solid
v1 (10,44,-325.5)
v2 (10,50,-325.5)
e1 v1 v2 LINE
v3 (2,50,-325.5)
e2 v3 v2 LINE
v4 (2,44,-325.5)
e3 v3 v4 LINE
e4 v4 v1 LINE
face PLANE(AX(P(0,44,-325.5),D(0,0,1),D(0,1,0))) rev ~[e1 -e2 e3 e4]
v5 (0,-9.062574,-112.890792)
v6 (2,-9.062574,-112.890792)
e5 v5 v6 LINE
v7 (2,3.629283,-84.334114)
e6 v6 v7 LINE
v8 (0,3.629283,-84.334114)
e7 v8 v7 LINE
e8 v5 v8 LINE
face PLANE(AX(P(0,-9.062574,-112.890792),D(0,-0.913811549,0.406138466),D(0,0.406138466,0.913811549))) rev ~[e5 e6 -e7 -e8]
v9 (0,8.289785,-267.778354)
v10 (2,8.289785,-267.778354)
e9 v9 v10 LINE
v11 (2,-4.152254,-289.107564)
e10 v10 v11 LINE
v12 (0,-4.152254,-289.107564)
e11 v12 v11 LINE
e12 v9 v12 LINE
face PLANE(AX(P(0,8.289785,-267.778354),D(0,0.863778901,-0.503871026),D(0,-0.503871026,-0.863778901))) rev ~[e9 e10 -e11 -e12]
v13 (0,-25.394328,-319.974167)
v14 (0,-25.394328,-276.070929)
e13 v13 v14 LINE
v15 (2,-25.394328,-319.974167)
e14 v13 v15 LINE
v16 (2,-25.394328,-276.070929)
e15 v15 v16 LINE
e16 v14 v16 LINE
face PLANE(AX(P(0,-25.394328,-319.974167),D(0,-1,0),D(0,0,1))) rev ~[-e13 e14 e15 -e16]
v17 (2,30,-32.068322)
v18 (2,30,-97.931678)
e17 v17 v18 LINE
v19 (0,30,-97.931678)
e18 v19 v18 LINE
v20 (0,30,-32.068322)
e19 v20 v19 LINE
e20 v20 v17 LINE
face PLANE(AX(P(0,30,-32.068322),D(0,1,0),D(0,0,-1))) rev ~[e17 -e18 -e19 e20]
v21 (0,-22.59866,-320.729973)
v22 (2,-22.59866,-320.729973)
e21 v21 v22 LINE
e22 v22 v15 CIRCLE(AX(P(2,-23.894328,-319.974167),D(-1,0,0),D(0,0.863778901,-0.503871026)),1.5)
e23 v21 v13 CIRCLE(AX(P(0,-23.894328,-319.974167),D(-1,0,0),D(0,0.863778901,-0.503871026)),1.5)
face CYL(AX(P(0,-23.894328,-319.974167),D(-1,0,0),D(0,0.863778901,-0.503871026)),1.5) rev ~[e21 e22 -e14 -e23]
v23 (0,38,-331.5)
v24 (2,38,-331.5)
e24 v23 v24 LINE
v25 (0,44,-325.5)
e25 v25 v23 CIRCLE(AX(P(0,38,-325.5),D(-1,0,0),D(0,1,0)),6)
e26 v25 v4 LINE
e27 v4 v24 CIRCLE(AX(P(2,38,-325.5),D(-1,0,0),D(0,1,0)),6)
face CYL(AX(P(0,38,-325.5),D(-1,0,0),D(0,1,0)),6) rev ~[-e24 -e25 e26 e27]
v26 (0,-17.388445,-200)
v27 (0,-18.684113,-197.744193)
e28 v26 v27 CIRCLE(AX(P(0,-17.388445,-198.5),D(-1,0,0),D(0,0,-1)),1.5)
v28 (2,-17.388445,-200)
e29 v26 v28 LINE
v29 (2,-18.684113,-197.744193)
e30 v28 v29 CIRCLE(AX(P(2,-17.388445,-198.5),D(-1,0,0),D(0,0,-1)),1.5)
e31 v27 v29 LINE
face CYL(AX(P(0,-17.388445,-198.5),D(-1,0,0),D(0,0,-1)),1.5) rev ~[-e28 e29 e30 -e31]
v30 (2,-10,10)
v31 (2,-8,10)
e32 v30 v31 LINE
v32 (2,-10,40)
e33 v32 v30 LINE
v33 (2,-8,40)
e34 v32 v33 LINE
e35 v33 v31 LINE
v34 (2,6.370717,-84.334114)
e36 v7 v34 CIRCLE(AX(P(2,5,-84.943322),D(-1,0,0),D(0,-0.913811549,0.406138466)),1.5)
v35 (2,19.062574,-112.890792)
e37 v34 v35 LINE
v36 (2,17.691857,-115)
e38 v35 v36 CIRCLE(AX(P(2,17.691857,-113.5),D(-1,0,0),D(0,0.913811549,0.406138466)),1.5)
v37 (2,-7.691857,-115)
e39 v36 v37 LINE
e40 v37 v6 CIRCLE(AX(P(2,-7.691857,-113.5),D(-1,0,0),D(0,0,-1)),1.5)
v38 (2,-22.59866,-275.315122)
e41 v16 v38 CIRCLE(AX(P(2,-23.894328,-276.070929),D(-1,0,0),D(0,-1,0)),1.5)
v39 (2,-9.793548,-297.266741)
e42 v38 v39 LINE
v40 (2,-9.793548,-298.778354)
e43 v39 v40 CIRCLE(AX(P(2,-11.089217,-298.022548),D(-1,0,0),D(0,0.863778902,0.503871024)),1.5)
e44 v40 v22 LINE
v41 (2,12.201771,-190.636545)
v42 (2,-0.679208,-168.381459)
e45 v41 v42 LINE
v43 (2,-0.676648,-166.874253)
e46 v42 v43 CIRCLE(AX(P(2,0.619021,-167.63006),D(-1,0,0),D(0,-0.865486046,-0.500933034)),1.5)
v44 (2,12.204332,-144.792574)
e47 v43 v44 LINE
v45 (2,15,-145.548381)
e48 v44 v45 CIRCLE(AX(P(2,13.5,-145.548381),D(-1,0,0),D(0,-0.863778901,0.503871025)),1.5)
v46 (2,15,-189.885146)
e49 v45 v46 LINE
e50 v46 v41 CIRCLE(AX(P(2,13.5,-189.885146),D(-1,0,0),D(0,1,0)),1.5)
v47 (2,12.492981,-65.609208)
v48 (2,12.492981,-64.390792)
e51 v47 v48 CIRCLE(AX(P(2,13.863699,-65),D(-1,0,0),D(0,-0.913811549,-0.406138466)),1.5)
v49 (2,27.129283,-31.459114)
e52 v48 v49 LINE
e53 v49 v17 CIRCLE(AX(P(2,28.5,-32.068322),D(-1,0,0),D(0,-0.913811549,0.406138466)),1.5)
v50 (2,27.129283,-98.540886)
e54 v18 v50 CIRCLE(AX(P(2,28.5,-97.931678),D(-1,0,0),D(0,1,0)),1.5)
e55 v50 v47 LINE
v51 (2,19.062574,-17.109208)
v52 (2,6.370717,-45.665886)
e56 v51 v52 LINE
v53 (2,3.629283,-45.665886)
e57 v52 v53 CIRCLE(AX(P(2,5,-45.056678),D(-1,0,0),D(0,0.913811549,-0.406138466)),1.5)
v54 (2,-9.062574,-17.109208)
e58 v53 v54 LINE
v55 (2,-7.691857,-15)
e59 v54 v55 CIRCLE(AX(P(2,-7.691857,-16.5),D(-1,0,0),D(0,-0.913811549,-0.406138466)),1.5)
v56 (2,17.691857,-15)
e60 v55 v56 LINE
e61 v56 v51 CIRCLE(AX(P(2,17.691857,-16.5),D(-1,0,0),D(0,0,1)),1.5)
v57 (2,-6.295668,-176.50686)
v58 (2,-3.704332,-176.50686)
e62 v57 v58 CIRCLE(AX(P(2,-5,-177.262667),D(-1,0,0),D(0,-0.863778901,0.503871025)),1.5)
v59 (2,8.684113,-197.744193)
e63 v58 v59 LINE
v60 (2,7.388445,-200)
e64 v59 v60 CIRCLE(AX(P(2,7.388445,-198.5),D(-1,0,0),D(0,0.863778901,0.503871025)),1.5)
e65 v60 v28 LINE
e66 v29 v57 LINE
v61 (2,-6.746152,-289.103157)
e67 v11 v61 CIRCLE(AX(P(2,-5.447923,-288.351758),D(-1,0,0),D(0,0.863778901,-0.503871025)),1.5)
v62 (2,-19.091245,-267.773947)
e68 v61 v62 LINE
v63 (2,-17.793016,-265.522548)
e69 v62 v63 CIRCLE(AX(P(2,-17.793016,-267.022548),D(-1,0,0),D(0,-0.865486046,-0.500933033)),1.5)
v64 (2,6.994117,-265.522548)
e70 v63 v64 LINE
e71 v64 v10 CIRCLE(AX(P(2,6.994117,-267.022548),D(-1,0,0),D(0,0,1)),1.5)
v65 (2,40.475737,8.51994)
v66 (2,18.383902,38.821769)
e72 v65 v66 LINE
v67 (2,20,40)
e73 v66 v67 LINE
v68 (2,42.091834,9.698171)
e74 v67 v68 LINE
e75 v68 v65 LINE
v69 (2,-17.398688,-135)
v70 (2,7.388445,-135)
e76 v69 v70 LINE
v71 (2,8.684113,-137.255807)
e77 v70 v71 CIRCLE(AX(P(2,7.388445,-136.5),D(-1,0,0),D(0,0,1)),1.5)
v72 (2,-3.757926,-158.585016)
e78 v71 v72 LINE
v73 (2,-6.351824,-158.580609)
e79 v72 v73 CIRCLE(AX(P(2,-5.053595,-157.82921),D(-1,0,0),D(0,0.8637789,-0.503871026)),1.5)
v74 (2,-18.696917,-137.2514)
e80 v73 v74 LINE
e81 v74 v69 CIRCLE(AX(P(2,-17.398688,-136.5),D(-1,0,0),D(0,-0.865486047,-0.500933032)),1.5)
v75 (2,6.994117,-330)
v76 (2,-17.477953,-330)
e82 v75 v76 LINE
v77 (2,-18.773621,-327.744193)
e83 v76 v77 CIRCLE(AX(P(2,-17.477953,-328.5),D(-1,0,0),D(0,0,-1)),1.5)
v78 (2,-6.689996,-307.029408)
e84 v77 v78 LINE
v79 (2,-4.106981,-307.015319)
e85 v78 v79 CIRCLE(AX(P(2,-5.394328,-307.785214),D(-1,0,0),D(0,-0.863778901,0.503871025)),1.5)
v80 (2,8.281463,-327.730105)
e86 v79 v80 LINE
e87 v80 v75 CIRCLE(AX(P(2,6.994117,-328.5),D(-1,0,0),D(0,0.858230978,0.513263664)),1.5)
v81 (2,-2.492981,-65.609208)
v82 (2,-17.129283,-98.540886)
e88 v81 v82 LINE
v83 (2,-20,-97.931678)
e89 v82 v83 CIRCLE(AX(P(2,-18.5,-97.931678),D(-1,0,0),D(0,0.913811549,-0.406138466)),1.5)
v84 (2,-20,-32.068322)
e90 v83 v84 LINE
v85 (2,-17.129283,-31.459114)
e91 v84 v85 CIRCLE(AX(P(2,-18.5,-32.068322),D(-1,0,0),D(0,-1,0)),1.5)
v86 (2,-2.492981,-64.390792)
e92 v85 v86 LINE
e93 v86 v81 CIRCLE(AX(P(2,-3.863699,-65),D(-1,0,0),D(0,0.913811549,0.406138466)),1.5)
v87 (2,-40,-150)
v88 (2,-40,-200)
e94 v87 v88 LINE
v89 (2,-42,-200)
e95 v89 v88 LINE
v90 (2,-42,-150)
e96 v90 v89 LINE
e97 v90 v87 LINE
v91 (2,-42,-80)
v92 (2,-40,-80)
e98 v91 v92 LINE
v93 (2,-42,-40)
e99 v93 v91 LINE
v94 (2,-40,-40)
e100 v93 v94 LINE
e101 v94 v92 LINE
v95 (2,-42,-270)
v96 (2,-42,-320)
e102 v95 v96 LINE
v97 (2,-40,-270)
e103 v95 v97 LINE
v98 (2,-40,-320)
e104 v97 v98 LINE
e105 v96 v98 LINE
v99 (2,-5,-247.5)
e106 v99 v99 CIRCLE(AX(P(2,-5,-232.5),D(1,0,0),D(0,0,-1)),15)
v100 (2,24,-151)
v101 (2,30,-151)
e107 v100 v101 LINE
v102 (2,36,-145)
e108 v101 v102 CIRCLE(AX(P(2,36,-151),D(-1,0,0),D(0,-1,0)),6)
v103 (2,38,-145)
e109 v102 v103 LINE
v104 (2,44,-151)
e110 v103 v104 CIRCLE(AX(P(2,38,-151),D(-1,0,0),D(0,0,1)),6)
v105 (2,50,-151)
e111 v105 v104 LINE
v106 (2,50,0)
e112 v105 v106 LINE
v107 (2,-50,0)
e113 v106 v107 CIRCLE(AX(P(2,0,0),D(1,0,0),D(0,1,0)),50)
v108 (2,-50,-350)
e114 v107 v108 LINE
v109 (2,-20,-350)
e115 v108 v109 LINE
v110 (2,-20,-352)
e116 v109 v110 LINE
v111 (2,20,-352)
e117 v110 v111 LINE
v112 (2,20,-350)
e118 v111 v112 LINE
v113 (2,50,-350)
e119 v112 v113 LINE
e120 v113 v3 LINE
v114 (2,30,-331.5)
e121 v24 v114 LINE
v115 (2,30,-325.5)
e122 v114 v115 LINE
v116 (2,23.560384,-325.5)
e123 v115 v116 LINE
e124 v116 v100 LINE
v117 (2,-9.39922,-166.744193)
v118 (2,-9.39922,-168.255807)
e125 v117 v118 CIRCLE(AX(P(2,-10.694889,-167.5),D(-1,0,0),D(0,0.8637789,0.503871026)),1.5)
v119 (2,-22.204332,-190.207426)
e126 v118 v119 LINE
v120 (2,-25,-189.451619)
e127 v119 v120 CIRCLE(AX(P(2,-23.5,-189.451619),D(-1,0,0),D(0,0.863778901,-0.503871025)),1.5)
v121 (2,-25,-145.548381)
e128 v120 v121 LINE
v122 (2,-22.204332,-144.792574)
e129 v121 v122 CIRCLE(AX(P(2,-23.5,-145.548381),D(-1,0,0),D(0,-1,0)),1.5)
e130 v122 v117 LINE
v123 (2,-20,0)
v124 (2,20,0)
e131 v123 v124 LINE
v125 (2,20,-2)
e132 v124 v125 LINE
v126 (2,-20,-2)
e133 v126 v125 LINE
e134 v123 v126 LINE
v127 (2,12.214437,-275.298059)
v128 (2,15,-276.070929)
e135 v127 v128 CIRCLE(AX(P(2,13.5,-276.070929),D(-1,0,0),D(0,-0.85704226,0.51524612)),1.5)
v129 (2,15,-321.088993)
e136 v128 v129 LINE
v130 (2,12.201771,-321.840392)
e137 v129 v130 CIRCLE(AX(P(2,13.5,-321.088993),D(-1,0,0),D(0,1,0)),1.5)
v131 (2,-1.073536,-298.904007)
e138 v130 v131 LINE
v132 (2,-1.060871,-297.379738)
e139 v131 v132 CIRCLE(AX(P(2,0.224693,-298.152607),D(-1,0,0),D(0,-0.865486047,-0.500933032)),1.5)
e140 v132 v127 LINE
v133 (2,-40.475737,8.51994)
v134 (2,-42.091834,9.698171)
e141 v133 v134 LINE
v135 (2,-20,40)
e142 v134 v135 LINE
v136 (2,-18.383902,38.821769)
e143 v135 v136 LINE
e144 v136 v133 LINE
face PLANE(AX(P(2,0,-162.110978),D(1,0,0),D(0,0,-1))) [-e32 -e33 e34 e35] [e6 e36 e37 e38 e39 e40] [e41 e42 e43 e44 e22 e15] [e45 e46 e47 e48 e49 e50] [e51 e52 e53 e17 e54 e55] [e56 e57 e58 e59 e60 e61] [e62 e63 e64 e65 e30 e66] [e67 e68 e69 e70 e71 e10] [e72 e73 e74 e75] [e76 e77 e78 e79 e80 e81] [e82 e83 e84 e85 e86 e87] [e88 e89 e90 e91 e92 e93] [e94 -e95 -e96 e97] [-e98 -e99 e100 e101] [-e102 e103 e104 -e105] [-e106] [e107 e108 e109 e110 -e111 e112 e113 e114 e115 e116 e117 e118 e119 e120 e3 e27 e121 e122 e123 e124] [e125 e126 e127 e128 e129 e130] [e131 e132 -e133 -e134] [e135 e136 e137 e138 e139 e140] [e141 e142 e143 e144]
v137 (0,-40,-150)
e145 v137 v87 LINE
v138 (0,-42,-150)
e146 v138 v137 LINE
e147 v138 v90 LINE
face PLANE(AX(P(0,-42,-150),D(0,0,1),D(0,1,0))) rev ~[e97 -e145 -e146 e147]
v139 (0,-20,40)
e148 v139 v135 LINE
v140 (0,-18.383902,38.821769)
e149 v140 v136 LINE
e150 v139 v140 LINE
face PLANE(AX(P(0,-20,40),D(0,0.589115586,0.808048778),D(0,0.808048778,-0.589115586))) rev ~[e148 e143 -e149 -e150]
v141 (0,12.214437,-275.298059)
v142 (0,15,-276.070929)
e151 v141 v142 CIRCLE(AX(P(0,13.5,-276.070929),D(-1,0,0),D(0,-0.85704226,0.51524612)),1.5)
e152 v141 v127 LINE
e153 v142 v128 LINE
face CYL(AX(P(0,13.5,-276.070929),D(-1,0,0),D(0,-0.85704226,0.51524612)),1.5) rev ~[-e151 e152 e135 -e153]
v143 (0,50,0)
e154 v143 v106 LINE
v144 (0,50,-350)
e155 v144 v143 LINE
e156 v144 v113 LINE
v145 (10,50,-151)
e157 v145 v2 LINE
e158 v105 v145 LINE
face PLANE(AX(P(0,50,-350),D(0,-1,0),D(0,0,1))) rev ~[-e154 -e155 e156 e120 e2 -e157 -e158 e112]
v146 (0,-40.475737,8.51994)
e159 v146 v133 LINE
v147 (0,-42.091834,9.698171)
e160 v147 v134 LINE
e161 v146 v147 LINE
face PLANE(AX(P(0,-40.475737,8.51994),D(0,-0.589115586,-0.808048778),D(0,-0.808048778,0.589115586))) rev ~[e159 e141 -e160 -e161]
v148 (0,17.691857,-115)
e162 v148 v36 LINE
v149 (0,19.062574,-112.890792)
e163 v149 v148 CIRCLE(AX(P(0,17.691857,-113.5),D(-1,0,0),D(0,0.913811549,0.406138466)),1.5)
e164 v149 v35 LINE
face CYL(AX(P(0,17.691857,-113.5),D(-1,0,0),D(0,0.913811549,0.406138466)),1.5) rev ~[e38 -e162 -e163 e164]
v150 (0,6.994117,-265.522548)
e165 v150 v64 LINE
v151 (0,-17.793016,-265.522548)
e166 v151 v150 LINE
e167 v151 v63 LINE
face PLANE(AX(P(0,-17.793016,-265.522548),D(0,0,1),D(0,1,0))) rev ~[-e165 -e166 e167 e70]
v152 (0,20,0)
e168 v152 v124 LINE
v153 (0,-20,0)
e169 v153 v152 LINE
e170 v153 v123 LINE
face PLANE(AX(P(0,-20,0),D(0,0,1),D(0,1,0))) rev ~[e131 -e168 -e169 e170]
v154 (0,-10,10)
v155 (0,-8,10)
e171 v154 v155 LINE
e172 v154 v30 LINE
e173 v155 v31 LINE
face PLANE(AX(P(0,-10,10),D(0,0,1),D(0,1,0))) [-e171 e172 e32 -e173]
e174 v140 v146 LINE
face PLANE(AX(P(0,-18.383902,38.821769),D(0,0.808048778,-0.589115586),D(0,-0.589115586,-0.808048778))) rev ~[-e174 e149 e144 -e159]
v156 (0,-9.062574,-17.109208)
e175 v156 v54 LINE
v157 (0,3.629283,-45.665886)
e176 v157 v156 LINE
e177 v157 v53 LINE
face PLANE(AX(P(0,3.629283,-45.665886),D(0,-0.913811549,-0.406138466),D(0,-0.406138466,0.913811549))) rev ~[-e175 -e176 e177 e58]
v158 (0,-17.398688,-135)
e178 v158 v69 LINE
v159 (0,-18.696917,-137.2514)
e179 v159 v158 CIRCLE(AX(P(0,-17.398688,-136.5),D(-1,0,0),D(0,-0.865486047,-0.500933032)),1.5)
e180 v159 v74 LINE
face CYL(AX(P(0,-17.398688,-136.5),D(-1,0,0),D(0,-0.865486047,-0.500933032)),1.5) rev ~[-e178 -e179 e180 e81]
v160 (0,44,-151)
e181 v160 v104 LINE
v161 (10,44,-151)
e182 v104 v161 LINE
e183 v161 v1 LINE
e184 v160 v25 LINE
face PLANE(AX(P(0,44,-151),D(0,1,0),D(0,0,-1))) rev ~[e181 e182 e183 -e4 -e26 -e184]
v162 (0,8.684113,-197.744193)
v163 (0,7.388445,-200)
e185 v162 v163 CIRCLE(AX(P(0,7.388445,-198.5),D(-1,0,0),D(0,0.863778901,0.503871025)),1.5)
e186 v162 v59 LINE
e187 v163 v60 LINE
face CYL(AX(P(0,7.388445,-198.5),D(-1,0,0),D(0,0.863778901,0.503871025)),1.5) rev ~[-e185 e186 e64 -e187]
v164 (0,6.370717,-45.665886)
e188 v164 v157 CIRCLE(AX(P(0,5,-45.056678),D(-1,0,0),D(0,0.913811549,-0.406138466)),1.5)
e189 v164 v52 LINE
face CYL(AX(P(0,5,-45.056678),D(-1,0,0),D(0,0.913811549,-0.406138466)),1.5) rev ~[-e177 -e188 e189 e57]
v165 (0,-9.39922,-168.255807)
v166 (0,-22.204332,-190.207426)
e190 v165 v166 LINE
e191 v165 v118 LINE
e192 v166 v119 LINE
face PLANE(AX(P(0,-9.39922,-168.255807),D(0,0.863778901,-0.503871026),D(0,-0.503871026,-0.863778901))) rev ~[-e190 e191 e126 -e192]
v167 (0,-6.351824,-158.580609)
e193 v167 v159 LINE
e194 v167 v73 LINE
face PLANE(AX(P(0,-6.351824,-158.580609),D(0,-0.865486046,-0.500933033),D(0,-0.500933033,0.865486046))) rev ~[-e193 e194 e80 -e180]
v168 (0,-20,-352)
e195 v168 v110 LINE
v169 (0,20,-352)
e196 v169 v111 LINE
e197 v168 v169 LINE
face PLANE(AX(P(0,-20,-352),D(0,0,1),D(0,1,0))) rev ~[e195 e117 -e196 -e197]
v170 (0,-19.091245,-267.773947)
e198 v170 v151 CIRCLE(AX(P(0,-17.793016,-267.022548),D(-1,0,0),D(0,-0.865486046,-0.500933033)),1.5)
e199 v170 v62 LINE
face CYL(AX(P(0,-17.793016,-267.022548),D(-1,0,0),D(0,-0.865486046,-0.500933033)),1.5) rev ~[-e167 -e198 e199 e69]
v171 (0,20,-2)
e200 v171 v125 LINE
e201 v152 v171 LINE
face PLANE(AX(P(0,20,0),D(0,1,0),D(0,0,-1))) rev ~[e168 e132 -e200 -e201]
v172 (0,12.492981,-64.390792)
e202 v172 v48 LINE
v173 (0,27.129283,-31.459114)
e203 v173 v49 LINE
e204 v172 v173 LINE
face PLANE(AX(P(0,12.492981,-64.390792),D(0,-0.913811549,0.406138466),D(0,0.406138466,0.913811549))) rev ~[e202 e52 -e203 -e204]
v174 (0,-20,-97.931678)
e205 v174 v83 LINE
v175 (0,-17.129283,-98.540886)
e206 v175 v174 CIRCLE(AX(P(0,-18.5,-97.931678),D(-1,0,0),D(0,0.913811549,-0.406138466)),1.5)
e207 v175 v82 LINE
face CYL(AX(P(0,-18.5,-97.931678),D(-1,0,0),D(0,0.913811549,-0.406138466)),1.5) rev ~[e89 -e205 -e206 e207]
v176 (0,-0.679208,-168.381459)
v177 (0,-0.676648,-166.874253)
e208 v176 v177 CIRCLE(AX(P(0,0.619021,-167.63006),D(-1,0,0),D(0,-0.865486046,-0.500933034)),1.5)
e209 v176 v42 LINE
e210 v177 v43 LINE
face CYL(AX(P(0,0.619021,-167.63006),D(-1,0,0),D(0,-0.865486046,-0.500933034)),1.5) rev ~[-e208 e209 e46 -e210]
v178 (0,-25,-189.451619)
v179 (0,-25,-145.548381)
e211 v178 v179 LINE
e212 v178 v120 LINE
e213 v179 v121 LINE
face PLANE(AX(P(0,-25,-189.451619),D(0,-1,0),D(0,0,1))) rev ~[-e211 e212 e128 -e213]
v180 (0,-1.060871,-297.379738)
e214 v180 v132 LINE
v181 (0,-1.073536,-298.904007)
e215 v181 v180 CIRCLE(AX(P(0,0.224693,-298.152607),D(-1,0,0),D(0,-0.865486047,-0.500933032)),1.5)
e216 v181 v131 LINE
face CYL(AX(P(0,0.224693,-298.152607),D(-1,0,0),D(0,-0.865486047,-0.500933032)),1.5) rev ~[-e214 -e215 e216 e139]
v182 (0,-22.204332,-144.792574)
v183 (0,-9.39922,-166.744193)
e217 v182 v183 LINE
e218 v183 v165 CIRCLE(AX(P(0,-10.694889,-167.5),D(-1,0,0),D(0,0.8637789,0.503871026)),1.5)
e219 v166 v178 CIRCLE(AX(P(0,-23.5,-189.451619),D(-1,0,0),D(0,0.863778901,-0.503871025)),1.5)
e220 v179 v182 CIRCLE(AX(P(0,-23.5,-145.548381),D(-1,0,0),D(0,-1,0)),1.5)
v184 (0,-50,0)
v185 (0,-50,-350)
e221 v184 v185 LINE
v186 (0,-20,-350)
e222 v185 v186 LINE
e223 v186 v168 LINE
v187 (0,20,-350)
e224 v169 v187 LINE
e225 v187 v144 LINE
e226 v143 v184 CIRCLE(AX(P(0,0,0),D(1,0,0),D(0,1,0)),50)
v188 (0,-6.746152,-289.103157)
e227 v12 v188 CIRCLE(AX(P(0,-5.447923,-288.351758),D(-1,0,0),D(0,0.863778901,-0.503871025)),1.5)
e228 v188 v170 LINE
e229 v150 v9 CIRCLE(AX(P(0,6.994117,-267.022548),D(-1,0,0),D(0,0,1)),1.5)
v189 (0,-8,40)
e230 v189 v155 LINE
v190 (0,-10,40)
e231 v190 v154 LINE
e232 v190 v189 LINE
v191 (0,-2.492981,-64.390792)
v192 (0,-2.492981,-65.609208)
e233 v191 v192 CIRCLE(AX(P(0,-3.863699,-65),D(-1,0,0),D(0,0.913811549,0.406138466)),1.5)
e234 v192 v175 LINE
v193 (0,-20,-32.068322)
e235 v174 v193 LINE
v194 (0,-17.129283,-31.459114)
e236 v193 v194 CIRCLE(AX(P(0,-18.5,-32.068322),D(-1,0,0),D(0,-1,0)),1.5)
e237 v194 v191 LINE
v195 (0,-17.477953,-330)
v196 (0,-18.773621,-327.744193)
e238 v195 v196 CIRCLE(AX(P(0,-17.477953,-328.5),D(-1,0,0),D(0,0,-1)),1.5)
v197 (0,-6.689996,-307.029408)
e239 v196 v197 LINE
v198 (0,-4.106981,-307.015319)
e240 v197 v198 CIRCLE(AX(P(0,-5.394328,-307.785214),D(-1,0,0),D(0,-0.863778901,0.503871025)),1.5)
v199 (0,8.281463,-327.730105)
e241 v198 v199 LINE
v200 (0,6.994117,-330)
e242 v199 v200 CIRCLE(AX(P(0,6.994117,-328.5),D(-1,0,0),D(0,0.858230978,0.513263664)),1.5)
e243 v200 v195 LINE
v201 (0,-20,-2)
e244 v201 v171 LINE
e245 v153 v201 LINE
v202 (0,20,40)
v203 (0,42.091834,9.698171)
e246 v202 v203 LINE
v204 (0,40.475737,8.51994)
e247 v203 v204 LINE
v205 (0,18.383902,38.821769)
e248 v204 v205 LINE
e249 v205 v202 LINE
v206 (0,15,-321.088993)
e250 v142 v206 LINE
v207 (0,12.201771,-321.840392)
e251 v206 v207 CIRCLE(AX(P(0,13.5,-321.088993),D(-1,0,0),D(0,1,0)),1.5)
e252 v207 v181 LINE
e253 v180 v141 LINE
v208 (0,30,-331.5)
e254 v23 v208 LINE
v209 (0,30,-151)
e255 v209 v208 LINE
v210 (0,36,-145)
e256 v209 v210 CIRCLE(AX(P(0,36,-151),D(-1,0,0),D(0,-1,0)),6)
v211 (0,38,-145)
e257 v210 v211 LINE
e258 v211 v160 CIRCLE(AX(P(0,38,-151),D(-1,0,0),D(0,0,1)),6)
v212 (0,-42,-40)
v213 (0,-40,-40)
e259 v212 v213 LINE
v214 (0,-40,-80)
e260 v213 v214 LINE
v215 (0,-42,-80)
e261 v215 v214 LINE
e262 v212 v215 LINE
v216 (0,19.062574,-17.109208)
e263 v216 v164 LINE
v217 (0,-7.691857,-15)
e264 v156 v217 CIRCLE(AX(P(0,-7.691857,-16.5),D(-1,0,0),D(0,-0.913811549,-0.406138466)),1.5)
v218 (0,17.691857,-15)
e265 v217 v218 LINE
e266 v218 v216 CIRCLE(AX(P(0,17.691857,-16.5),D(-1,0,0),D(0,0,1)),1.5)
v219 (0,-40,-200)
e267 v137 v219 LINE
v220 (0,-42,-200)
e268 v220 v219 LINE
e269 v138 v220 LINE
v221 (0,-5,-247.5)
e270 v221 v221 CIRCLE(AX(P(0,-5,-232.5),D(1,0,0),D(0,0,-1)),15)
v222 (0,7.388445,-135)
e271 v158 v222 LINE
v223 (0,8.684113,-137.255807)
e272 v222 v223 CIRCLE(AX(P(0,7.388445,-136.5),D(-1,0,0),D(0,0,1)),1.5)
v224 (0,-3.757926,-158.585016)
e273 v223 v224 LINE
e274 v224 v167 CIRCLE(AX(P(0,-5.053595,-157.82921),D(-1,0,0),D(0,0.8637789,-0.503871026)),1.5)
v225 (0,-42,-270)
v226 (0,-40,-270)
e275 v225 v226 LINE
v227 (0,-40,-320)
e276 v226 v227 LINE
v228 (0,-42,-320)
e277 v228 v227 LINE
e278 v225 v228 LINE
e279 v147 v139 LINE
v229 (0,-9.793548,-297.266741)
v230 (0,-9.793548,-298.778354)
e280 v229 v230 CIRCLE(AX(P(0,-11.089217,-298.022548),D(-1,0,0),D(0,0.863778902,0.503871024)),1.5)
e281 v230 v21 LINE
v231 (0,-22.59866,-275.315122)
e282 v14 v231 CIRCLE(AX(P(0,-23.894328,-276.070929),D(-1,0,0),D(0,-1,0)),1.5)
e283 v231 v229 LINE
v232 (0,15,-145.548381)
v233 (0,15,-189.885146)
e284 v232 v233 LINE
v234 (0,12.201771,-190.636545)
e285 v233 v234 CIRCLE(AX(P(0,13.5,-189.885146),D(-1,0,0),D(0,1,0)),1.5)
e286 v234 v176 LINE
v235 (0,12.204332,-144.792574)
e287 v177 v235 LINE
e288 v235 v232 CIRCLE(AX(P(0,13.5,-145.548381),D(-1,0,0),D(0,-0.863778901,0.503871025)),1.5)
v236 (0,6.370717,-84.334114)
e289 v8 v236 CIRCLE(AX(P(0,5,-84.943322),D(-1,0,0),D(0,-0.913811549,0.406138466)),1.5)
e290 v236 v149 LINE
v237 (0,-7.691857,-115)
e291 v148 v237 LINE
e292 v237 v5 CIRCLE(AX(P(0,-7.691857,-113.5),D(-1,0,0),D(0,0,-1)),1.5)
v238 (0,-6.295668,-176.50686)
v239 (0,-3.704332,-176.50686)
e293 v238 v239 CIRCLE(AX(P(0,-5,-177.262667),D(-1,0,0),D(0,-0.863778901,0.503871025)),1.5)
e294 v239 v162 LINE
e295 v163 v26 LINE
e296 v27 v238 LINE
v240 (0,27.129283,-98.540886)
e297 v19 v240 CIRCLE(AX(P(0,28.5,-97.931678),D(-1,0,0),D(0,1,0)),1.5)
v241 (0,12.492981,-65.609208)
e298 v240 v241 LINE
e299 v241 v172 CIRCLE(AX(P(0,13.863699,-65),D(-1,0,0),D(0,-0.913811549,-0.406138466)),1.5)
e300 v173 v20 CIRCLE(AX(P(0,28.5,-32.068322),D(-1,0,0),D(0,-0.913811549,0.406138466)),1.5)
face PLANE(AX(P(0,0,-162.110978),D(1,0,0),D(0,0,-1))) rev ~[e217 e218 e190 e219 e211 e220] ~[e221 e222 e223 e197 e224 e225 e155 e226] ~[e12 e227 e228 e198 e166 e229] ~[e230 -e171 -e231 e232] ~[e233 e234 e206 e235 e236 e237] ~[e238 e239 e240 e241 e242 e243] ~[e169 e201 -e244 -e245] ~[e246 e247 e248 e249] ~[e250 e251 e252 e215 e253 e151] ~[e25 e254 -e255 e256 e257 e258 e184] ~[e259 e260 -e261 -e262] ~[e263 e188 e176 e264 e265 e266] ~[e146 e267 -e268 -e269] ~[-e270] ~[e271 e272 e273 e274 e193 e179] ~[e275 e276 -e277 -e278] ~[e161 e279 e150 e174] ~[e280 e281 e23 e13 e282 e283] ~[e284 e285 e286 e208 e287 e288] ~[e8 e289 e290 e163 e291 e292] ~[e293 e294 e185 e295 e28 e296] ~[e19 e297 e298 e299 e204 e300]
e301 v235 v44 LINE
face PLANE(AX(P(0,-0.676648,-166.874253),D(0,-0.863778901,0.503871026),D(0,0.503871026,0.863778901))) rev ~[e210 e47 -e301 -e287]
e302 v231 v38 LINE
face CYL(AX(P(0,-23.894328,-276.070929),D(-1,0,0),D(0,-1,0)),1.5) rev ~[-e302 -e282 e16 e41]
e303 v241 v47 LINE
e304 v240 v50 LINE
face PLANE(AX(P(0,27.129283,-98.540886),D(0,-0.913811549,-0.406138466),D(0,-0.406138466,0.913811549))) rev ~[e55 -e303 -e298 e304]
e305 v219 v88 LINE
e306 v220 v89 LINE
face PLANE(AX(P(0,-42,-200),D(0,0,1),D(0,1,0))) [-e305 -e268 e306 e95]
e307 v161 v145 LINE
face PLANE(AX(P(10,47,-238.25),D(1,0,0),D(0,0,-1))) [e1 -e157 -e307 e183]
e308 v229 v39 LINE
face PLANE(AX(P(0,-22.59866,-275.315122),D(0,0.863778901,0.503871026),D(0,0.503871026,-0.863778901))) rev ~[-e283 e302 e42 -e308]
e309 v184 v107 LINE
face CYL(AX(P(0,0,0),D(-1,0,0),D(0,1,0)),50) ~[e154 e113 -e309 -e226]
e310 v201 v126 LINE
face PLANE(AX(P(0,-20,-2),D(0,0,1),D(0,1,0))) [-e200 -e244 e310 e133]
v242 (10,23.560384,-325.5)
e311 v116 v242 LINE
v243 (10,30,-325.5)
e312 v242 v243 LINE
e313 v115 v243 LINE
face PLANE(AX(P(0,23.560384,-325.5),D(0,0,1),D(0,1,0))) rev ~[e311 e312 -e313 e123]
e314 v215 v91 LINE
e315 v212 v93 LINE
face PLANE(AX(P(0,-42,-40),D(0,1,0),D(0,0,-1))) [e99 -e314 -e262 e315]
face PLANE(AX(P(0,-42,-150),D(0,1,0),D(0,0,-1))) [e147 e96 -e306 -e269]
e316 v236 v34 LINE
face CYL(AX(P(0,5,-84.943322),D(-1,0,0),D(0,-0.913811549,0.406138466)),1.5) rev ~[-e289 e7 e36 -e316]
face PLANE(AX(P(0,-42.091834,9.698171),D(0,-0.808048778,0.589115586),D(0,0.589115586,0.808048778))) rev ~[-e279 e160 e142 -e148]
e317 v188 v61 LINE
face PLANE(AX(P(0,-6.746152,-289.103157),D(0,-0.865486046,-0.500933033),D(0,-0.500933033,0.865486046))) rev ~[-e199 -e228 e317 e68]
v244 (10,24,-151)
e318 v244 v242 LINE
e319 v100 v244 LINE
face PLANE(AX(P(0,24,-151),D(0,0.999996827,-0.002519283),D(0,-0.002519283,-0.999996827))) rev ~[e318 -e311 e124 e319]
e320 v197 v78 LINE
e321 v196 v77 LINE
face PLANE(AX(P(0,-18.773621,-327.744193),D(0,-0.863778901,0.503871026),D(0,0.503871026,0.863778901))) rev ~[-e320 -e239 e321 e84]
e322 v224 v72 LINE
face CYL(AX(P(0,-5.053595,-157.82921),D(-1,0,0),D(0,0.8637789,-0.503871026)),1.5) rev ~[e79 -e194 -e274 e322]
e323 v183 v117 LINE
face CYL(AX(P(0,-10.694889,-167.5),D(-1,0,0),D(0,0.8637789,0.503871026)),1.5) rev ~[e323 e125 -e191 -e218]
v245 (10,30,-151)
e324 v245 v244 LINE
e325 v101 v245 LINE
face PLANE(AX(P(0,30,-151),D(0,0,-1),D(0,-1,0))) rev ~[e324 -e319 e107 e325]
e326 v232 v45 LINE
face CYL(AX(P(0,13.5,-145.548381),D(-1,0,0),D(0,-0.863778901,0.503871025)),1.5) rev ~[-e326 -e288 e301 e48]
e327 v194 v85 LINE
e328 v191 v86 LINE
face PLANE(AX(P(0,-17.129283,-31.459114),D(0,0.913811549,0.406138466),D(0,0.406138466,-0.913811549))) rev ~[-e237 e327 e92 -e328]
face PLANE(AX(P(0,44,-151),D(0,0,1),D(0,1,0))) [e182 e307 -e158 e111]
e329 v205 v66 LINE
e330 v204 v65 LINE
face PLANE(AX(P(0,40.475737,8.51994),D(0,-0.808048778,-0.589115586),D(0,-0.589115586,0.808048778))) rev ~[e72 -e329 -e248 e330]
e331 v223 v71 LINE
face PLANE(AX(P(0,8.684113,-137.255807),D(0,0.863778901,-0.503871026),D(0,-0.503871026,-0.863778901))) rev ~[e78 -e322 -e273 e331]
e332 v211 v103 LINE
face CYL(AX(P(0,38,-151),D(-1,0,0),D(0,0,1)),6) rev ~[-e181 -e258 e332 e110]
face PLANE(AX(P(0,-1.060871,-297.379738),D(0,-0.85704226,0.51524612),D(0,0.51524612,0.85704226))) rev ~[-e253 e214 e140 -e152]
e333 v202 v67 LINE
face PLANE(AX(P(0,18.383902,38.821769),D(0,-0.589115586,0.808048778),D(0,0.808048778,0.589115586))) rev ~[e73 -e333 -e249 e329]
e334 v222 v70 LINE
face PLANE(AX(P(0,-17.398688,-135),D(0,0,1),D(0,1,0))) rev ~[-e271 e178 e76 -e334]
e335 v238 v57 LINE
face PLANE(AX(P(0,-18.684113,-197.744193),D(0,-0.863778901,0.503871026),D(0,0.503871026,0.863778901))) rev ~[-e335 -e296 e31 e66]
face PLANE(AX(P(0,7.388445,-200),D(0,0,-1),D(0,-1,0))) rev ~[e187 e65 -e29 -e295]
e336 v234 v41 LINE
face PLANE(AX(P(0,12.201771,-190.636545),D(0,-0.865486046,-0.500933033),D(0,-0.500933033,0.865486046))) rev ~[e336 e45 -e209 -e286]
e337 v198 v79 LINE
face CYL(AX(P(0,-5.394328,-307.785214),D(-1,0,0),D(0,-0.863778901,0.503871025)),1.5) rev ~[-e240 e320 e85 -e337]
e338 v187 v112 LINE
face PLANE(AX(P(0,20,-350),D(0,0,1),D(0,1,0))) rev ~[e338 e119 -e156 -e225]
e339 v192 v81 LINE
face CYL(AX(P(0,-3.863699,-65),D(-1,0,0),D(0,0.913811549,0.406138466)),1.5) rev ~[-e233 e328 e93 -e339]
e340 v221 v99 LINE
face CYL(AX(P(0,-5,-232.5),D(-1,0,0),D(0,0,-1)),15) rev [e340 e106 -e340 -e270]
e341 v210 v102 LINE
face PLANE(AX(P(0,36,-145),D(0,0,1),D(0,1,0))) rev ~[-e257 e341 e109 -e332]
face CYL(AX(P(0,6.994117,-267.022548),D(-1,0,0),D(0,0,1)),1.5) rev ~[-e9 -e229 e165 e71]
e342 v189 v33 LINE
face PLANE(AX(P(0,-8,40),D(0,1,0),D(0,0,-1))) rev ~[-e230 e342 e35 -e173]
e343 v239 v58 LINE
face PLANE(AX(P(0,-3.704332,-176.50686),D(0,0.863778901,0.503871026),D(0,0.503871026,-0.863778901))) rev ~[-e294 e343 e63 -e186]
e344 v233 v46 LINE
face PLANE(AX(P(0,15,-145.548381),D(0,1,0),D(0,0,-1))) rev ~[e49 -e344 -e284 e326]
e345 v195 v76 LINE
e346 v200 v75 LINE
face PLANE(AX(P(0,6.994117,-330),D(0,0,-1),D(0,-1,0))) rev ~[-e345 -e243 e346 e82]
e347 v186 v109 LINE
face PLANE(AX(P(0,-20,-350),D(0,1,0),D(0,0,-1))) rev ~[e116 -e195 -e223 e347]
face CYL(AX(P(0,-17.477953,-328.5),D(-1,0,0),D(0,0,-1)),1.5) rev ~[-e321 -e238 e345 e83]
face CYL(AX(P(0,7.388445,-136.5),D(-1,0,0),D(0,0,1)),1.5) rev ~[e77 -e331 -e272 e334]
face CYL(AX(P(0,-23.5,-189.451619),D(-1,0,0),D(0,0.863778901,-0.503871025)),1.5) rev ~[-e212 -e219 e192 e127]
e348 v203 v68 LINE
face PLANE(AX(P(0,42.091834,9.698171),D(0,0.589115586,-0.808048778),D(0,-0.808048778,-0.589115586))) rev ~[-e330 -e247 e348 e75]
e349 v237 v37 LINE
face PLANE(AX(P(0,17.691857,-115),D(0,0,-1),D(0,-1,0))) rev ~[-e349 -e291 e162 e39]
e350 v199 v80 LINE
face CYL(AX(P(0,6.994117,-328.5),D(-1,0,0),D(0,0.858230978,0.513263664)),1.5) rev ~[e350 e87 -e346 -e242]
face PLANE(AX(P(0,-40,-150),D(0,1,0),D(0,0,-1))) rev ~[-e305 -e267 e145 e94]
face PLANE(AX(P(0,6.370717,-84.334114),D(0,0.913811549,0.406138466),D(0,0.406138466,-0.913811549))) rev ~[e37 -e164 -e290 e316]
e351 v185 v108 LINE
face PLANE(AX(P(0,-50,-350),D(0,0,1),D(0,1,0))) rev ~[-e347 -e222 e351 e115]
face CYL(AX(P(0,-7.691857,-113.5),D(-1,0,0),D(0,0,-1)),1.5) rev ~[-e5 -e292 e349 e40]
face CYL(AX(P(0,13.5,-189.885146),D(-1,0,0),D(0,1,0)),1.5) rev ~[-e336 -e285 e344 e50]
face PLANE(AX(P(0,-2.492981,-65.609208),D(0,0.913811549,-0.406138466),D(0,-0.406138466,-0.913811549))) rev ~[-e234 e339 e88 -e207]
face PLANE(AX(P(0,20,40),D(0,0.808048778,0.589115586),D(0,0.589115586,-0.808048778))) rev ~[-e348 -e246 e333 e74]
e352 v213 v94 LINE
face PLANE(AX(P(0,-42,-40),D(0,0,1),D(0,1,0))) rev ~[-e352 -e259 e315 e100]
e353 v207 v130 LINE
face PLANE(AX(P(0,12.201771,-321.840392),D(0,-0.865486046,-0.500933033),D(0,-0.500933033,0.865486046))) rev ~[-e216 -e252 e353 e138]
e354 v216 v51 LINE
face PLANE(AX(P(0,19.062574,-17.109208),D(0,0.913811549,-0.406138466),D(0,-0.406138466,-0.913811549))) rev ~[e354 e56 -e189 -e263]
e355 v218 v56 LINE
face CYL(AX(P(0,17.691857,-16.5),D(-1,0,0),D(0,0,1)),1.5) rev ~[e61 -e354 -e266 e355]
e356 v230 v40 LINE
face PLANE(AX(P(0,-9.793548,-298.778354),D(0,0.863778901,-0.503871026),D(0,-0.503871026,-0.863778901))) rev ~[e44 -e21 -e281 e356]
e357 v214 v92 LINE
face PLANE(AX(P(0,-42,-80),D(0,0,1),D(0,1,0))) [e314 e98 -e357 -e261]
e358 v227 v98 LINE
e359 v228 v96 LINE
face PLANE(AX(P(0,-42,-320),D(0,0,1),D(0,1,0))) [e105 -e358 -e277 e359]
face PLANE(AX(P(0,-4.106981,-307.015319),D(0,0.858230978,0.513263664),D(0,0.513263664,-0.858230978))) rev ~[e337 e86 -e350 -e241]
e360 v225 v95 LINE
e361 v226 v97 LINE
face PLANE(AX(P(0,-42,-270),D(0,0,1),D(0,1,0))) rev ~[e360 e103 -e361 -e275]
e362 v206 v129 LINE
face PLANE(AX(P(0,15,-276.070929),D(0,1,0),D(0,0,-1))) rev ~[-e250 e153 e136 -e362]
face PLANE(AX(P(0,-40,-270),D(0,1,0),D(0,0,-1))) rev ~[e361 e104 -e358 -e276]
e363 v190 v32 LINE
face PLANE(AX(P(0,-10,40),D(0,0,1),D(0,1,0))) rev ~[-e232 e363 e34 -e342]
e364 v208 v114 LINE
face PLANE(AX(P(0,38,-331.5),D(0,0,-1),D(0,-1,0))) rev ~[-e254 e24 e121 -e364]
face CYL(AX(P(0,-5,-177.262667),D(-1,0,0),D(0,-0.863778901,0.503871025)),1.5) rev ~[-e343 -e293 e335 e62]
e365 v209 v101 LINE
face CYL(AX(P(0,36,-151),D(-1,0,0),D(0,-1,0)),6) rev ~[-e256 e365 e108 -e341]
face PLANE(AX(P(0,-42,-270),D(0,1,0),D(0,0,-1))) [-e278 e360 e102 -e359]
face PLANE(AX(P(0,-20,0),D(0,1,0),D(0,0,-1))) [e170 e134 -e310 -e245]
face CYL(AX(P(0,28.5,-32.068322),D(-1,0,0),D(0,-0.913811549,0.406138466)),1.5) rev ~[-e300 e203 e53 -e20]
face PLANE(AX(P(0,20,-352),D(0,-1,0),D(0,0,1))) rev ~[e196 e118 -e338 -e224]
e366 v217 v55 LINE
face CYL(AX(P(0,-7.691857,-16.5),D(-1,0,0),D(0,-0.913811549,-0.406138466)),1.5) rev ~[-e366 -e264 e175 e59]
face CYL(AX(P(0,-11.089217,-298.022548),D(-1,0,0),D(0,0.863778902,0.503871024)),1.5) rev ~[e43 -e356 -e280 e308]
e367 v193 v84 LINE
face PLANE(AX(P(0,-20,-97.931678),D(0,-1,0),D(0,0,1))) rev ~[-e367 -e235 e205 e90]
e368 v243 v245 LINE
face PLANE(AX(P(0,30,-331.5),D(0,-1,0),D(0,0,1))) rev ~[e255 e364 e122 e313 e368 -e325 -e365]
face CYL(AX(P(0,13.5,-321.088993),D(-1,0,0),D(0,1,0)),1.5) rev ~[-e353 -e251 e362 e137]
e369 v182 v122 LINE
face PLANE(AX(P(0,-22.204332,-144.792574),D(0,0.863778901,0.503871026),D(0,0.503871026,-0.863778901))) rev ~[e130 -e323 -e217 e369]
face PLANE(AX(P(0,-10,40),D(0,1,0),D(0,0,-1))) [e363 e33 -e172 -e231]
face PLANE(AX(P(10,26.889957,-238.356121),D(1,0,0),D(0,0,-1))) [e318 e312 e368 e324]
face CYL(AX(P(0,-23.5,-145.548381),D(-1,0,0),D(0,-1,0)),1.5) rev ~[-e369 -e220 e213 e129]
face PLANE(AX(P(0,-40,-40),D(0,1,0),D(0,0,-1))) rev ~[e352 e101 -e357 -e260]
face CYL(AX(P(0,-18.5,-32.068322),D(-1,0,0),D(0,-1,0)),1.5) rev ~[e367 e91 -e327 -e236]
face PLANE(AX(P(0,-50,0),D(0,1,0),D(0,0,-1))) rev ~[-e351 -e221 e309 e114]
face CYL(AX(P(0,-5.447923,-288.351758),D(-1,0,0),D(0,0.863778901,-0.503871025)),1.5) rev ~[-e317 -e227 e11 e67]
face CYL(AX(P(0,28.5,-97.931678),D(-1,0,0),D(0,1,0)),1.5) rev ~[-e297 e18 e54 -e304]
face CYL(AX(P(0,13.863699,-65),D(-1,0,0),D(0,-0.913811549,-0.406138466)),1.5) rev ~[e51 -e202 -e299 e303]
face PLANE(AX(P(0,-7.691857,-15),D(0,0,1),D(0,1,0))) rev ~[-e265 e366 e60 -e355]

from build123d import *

# Parameters (mm, degrees)
SKETCH_1_W      = 2
SKETCH_1_H      = 40
SKETCH_1_W_2    = 40
SKETCH_1_H_2    = 2
SKETCH_1_W_3    = 50
SKETCH_1_R      = 15
SKETCH_1_W_4    = 30
EXTRUDE_3_DEPTH = 2
SKETCH_2_W      = 174.5
SKETCH_2_H      = 6
EXTRUDE_4_DEPTH = 10


with BuildPart() as part:
    # 草图1 → 凸台-拉伸3 (new body)
    with BuildSketch(Plane(origin=(0, 0, 0), x_dir=(0, 0, -1), z_dir=(1, 0, 0))):
        with BuildLine():
            Line((350, 50), (0, 50))
            ThreePointArc((0, 50), (-50, 0), (0, -50))
            Line((0, -50), (350, -50))
            Line((350, -50), (350, -20))
            Line((350, -20), (352, -20))
            Line((352, -20), (352, 20))
            Line((352, 20), (350, 20))
            Line((350, 20), (350, 50))
        make_face()
        with BuildLine():
            ThreePointArc((145, 38), (146.757359313, 42.242640687), (151, 44))
            Line((151, 44), (325.5, 44))
            ThreePointArc((325.5, 44), (329.742640687, 42.242640687), (331.5, 38))
            Line((331.5, 38), (331.5, 30))
            Line((331.5, 30), (151, 30))
            ThreePointArc((151, 30), (146.757359313, 31.757359313), (145, 36))
            Line((145, 36), (145, 38))
        make_face(mode=Mode.SUBTRACT)
        with Locations((1, 0)):
            Rectangle(SKETCH_1_W, SKETCH_1_H, mode=Mode.SUBTRACT)
        with Locations((60, -41)):
            Rectangle(SKETCH_1_W_2, SKETCH_1_H_2, mode=Mode.SUBTRACT)
        with BuildLine():
            Line((97.931678324, -20), (32.068321676, -20))
            ThreePointArc((32.068321676, -20), (30.600998265, -18.811387231), (31.459113977, -17.129282677))
            Line((31.459113977, -17.129282677), (64.390792301, -2.4929812))
            ThreePointArc((64.390792301, -2.4929812), (65, -2.363698523), (65.609207699, -2.4929812))
            Line((65.609207699, -2.4929812), (98.540886023, -17.129282677))
            ThreePointArc((98.540886023, -17.129282677), (99.399001735, -18.811387231), (97.931678324, -20))
        make_face(mode=Mode.SUBTRACT)
        with BuildLine():
            Line((135, -17.39868764), (135, 7.388444501))
            ThreePointArc((135, 7.388444501), (135.75290891, 8.68915773), (137.255806538, 8.684112853))
            Line((137.255806538, 8.684112853), (158.585016393, -3.757926229))
            ThreePointArc((158.585016393, -3.757926229), (159.329207689, -5.056143052), (158.580609404, -6.35182365))
            Line((158.580609404, -6.35182365), (137.25139955, -18.69691671))
            ThreePointArc((137.25139955, -18.69691671), (135.750700102, -18.698129698), (135, -17.39868764))
        make_face(mode=Mode.SUBTRACT)
        with Locations((175, -41)):
            Rectangle(SKETCH_1_W_3, SKETCH_1_H_2, mode=Mode.SUBTRACT)
        with Locations((295, -41)):
            Rectangle(SKETCH_1_W_3, SKETCH_1_H_2, mode=Mode.SUBTRACT)
        with BuildLine():
            Line((189.451619145, -25), (145.548380855, -25))
            ThreePointArc((145.548380855, -25), (144.100364535, -23.891469969), (144.792574317, -22.204331649))
            Line((144.792574317, -22.204331649), (166.744193462, -9.399220481))
            ThreePointArc((166.744193462, -9.399220481), (167.5, -9.194888832), (168.255806538, -9.399220481))
            Line((168.255806538, -9.399220481), (190.207425683, -22.204331649))
            ThreePointArc((190.207425683, -22.204331649), (190.899635465, -23.891469969), (189.451619145, -25))
        make_face(mode=Mode.SUBTRACT)
        with BuildLine():
            ThreePointArc((197.744193462, 8.684112853), (199.24709109, 8.68915773), (200, 7.388444501))
            Line((200, 7.388444501), (200, -17.388444501))
            ThreePointArc((200, -17.388444501), (199.24709109, -18.68915773), (197.744193462, -18.684112853))
            Line((197.744193462, -18.684112853), (176.506860031, -6.295668351))
            ThreePointArc((176.506860031, -6.295668351), (175.762666569, -5), (176.506860031, -3.704331649))
            Line((176.506860031, -3.704331649), (197.744193462, 8.684112853))
        make_face(mode=Mode.SUBTRACT)
        with Locations((232.5, -5)):
            Circle(SKETCH_1_R, mode=Mode.SUBTRACT)
        with BuildLine():
            Line((319.974166797, -25.394327939), (276.070928507, -25.394327939))
            ThreePointArc((276.070928507, -25.394327939), (274.622912187, -24.285797907), (275.315121969, -22.598659587))
            Line((275.315121969, -22.598659587), (297.266741114, -9.793548419))
            ThreePointArc((297.266741114, -9.793548419), (298.022547652, -9.589216771), (298.778354191, -9.793548419))
            Line((298.778354191, -9.793548419), (320.729973336, -22.598659587))
            ThreePointArc((320.729973336, -22.598659587), (321.422183118, -24.285797907), (319.974166797, -25.394327939))
        make_face(mode=Mode.SUBTRACT)
        with BuildLine():
            Line((265.522547652, -17.793015579), (265.522547652, 6.994116563))
            ThreePointArc((265.522547652, 6.994116563), (266.275456563, 8.294829792), (267.778354191, 8.289784914))
            Line((267.778354191, 8.289784914), (289.107564045, -4.152254168))
            ThreePointArc((289.107564045, -4.152254168), (289.851755342, -5.45047099), (289.103157056, -6.746151588))
            Line((289.103157056, -6.746151588), (267.773947202, -19.091244648))
            ThreePointArc((267.773947202, -19.091244648), (266.273247754, -19.092457637), (265.522547652, -17.793015579))
        make_face(mode=Mode.SUBTRACT)
        with BuildLine():
            ThreePointArc((327.730104505, 8.28146303), (329.239985391, 8.298885363), (330, 6.994116563))
            Line((330, 6.994116563), (330, -17.477952976))
            ThreePointArc((330, -17.477952976), (329.24709109, -18.778666205), (327.744193462, -18.773621327))
            Line((327.744193462, -18.773621327), (307.029407683, -6.68999629))
            ThreePointArc((307.029407683, -6.68999629), (306.285236534, -5.40250951), (307.015318726, -4.106981472))
            Line((307.015318726, -4.106981472), (327.730104505, 8.28146303))
        make_face(mode=Mode.SUBTRACT)
        with BuildLine():
            Line((15, -7.691857033), (15, 17.691857033))
            ThreePointArc((15, 17.691857033), (15.682629689, 18.94959539), (17.109207699, 19.062574356))
            Line((17.109207699, 19.062574356), (45.665886023, 6.370717323))
            ThreePointArc((45.665886023, 6.370717323), (46.556678324, 5), (45.665886023, 3.629282677))
            Line((45.665886023, 3.629282677), (17.109207699, -9.062574356))
            ThreePointArc((17.109207699, -9.062574356), (15.682629689, -8.94959539), (15, -7.691857033))
        make_face(mode=Mode.SUBTRACT)
        with BuildLine():
            Line((112.890792301, -9.062574356), (84.334113977, 3.629282677))
            ThreePointArc((84.334113977, 3.629282677), (83.443321676, 5), (84.334113977, 6.370717323))
            Line((84.334113977, 6.370717323), (112.890792301, 19.062574356))
            ThreePointArc((112.890792301, 19.062574356), (114.317370311, 18.94959539), (115, 17.691857033))
            Line((115, 17.691857033), (115, -7.691857033))
            ThreePointArc((115, -7.691857033), (114.317370311, -8.94959539), (112.890792301, -9.062574356))
        make_face(mode=Mode.SUBTRACT)
        with BuildLine():
            ThreePointArc((31.459113977, 27.129282677), (30.600998265, 28.811387231), (32.068321676, 30))
            Line((32.068321676, 30), (97.931678324, 30))
            ThreePointArc((97.931678324, 30), (99.399001735, 28.811387231), (98.540886023, 27.129282677))
            Line((98.540886023, 27.129282677), (65.609207699, 12.4929812))
            ThreePointArc((65.609207699, 12.4929812), (65, 12.363698523), (64.390792301, 12.4929812))
            Line((64.390792301, 12.4929812), (31.459113977, 27.129282677))
        make_face(mode=Mode.SUBTRACT)
        with BuildLine():
            ThreePointArc((144.792574317, 12.204331649), (144.100364535, 13.891469969), (145.548380855, 15))
            Line((145.548380855, 15), (189.885145799, 15))
            ThreePointArc((189.885145799, 15), (191.333825129, 13.889009252), (190.636545348, 12.20177093))
            Line((190.636545348, 12.20177093), (168.381459159, -0.679208343))
            ThreePointArc((168.381459159, -0.679208343), (167.627511138, -0.880977109), (166.874253072, -0.676647625))
            Line((166.874253072, -0.676647625), (144.792574317, 12.204331649))
        make_face(mode=Mode.SUBTRACT)
        with BuildLine():
            ThreePointArc((275.298059327, 12.21443661), (274.625531488, 13.901032988), (276.070928507, 15))
            Line((276.070928507, 15), (321.088992758, 15))
            ThreePointArc((321.088992758, 15), (322.537672089, 13.889009252), (321.840392308, 12.20177093))
            Line((321.840392308, 12.20177093), (298.904006812, -1.073536282))
            ThreePointArc((298.904006812, -1.073536282), (298.140143671, -1.275255431), (297.379738082, -1.060870603))
            Line((297.379738082, -1.060870603), (275.298059327, 12.21443661))
        make_face(mode=Mode.SUBTRACT)
        Polygon((-40, 20), (-9.698170842, 42.091834457), (-8.519939671, 40.475736902), (-38.821768829, 18.383902445), align=None, mode=Mode.SUBTRACT)
        with Locations((-25, -9)):
            Rectangle(SKETCH_1_W_4, SKETCH_1_H_2, mode=Mode.SUBTRACT)
        Polygon((-40, -20), (-38.821768829, -18.383902445), (-8.519939671, -40.475736902), (-9.698170842, -42.091834457), align=None, mode=Mode.SUBTRACT)
    extrude(amount=EXTRUDE_3_DEPTH)

    # 草图2 → 凸台-拉伸4 (add)
    with BuildSketch(Plane(origin=(0, 0, 0), x_dir=(0, 0, -1), z_dir=(1, 0, 0))):
        with Locations((238.25, 47)):
            Rectangle(SKETCH_2_W, SKETCH_2_H)
        Polygon((151, 30), (151, 24), (325.5, 23.560383637), (325.5, 30), align=None)
    extrude(amount=EXTRUDE_4_DEPTH)


solid = part.part
